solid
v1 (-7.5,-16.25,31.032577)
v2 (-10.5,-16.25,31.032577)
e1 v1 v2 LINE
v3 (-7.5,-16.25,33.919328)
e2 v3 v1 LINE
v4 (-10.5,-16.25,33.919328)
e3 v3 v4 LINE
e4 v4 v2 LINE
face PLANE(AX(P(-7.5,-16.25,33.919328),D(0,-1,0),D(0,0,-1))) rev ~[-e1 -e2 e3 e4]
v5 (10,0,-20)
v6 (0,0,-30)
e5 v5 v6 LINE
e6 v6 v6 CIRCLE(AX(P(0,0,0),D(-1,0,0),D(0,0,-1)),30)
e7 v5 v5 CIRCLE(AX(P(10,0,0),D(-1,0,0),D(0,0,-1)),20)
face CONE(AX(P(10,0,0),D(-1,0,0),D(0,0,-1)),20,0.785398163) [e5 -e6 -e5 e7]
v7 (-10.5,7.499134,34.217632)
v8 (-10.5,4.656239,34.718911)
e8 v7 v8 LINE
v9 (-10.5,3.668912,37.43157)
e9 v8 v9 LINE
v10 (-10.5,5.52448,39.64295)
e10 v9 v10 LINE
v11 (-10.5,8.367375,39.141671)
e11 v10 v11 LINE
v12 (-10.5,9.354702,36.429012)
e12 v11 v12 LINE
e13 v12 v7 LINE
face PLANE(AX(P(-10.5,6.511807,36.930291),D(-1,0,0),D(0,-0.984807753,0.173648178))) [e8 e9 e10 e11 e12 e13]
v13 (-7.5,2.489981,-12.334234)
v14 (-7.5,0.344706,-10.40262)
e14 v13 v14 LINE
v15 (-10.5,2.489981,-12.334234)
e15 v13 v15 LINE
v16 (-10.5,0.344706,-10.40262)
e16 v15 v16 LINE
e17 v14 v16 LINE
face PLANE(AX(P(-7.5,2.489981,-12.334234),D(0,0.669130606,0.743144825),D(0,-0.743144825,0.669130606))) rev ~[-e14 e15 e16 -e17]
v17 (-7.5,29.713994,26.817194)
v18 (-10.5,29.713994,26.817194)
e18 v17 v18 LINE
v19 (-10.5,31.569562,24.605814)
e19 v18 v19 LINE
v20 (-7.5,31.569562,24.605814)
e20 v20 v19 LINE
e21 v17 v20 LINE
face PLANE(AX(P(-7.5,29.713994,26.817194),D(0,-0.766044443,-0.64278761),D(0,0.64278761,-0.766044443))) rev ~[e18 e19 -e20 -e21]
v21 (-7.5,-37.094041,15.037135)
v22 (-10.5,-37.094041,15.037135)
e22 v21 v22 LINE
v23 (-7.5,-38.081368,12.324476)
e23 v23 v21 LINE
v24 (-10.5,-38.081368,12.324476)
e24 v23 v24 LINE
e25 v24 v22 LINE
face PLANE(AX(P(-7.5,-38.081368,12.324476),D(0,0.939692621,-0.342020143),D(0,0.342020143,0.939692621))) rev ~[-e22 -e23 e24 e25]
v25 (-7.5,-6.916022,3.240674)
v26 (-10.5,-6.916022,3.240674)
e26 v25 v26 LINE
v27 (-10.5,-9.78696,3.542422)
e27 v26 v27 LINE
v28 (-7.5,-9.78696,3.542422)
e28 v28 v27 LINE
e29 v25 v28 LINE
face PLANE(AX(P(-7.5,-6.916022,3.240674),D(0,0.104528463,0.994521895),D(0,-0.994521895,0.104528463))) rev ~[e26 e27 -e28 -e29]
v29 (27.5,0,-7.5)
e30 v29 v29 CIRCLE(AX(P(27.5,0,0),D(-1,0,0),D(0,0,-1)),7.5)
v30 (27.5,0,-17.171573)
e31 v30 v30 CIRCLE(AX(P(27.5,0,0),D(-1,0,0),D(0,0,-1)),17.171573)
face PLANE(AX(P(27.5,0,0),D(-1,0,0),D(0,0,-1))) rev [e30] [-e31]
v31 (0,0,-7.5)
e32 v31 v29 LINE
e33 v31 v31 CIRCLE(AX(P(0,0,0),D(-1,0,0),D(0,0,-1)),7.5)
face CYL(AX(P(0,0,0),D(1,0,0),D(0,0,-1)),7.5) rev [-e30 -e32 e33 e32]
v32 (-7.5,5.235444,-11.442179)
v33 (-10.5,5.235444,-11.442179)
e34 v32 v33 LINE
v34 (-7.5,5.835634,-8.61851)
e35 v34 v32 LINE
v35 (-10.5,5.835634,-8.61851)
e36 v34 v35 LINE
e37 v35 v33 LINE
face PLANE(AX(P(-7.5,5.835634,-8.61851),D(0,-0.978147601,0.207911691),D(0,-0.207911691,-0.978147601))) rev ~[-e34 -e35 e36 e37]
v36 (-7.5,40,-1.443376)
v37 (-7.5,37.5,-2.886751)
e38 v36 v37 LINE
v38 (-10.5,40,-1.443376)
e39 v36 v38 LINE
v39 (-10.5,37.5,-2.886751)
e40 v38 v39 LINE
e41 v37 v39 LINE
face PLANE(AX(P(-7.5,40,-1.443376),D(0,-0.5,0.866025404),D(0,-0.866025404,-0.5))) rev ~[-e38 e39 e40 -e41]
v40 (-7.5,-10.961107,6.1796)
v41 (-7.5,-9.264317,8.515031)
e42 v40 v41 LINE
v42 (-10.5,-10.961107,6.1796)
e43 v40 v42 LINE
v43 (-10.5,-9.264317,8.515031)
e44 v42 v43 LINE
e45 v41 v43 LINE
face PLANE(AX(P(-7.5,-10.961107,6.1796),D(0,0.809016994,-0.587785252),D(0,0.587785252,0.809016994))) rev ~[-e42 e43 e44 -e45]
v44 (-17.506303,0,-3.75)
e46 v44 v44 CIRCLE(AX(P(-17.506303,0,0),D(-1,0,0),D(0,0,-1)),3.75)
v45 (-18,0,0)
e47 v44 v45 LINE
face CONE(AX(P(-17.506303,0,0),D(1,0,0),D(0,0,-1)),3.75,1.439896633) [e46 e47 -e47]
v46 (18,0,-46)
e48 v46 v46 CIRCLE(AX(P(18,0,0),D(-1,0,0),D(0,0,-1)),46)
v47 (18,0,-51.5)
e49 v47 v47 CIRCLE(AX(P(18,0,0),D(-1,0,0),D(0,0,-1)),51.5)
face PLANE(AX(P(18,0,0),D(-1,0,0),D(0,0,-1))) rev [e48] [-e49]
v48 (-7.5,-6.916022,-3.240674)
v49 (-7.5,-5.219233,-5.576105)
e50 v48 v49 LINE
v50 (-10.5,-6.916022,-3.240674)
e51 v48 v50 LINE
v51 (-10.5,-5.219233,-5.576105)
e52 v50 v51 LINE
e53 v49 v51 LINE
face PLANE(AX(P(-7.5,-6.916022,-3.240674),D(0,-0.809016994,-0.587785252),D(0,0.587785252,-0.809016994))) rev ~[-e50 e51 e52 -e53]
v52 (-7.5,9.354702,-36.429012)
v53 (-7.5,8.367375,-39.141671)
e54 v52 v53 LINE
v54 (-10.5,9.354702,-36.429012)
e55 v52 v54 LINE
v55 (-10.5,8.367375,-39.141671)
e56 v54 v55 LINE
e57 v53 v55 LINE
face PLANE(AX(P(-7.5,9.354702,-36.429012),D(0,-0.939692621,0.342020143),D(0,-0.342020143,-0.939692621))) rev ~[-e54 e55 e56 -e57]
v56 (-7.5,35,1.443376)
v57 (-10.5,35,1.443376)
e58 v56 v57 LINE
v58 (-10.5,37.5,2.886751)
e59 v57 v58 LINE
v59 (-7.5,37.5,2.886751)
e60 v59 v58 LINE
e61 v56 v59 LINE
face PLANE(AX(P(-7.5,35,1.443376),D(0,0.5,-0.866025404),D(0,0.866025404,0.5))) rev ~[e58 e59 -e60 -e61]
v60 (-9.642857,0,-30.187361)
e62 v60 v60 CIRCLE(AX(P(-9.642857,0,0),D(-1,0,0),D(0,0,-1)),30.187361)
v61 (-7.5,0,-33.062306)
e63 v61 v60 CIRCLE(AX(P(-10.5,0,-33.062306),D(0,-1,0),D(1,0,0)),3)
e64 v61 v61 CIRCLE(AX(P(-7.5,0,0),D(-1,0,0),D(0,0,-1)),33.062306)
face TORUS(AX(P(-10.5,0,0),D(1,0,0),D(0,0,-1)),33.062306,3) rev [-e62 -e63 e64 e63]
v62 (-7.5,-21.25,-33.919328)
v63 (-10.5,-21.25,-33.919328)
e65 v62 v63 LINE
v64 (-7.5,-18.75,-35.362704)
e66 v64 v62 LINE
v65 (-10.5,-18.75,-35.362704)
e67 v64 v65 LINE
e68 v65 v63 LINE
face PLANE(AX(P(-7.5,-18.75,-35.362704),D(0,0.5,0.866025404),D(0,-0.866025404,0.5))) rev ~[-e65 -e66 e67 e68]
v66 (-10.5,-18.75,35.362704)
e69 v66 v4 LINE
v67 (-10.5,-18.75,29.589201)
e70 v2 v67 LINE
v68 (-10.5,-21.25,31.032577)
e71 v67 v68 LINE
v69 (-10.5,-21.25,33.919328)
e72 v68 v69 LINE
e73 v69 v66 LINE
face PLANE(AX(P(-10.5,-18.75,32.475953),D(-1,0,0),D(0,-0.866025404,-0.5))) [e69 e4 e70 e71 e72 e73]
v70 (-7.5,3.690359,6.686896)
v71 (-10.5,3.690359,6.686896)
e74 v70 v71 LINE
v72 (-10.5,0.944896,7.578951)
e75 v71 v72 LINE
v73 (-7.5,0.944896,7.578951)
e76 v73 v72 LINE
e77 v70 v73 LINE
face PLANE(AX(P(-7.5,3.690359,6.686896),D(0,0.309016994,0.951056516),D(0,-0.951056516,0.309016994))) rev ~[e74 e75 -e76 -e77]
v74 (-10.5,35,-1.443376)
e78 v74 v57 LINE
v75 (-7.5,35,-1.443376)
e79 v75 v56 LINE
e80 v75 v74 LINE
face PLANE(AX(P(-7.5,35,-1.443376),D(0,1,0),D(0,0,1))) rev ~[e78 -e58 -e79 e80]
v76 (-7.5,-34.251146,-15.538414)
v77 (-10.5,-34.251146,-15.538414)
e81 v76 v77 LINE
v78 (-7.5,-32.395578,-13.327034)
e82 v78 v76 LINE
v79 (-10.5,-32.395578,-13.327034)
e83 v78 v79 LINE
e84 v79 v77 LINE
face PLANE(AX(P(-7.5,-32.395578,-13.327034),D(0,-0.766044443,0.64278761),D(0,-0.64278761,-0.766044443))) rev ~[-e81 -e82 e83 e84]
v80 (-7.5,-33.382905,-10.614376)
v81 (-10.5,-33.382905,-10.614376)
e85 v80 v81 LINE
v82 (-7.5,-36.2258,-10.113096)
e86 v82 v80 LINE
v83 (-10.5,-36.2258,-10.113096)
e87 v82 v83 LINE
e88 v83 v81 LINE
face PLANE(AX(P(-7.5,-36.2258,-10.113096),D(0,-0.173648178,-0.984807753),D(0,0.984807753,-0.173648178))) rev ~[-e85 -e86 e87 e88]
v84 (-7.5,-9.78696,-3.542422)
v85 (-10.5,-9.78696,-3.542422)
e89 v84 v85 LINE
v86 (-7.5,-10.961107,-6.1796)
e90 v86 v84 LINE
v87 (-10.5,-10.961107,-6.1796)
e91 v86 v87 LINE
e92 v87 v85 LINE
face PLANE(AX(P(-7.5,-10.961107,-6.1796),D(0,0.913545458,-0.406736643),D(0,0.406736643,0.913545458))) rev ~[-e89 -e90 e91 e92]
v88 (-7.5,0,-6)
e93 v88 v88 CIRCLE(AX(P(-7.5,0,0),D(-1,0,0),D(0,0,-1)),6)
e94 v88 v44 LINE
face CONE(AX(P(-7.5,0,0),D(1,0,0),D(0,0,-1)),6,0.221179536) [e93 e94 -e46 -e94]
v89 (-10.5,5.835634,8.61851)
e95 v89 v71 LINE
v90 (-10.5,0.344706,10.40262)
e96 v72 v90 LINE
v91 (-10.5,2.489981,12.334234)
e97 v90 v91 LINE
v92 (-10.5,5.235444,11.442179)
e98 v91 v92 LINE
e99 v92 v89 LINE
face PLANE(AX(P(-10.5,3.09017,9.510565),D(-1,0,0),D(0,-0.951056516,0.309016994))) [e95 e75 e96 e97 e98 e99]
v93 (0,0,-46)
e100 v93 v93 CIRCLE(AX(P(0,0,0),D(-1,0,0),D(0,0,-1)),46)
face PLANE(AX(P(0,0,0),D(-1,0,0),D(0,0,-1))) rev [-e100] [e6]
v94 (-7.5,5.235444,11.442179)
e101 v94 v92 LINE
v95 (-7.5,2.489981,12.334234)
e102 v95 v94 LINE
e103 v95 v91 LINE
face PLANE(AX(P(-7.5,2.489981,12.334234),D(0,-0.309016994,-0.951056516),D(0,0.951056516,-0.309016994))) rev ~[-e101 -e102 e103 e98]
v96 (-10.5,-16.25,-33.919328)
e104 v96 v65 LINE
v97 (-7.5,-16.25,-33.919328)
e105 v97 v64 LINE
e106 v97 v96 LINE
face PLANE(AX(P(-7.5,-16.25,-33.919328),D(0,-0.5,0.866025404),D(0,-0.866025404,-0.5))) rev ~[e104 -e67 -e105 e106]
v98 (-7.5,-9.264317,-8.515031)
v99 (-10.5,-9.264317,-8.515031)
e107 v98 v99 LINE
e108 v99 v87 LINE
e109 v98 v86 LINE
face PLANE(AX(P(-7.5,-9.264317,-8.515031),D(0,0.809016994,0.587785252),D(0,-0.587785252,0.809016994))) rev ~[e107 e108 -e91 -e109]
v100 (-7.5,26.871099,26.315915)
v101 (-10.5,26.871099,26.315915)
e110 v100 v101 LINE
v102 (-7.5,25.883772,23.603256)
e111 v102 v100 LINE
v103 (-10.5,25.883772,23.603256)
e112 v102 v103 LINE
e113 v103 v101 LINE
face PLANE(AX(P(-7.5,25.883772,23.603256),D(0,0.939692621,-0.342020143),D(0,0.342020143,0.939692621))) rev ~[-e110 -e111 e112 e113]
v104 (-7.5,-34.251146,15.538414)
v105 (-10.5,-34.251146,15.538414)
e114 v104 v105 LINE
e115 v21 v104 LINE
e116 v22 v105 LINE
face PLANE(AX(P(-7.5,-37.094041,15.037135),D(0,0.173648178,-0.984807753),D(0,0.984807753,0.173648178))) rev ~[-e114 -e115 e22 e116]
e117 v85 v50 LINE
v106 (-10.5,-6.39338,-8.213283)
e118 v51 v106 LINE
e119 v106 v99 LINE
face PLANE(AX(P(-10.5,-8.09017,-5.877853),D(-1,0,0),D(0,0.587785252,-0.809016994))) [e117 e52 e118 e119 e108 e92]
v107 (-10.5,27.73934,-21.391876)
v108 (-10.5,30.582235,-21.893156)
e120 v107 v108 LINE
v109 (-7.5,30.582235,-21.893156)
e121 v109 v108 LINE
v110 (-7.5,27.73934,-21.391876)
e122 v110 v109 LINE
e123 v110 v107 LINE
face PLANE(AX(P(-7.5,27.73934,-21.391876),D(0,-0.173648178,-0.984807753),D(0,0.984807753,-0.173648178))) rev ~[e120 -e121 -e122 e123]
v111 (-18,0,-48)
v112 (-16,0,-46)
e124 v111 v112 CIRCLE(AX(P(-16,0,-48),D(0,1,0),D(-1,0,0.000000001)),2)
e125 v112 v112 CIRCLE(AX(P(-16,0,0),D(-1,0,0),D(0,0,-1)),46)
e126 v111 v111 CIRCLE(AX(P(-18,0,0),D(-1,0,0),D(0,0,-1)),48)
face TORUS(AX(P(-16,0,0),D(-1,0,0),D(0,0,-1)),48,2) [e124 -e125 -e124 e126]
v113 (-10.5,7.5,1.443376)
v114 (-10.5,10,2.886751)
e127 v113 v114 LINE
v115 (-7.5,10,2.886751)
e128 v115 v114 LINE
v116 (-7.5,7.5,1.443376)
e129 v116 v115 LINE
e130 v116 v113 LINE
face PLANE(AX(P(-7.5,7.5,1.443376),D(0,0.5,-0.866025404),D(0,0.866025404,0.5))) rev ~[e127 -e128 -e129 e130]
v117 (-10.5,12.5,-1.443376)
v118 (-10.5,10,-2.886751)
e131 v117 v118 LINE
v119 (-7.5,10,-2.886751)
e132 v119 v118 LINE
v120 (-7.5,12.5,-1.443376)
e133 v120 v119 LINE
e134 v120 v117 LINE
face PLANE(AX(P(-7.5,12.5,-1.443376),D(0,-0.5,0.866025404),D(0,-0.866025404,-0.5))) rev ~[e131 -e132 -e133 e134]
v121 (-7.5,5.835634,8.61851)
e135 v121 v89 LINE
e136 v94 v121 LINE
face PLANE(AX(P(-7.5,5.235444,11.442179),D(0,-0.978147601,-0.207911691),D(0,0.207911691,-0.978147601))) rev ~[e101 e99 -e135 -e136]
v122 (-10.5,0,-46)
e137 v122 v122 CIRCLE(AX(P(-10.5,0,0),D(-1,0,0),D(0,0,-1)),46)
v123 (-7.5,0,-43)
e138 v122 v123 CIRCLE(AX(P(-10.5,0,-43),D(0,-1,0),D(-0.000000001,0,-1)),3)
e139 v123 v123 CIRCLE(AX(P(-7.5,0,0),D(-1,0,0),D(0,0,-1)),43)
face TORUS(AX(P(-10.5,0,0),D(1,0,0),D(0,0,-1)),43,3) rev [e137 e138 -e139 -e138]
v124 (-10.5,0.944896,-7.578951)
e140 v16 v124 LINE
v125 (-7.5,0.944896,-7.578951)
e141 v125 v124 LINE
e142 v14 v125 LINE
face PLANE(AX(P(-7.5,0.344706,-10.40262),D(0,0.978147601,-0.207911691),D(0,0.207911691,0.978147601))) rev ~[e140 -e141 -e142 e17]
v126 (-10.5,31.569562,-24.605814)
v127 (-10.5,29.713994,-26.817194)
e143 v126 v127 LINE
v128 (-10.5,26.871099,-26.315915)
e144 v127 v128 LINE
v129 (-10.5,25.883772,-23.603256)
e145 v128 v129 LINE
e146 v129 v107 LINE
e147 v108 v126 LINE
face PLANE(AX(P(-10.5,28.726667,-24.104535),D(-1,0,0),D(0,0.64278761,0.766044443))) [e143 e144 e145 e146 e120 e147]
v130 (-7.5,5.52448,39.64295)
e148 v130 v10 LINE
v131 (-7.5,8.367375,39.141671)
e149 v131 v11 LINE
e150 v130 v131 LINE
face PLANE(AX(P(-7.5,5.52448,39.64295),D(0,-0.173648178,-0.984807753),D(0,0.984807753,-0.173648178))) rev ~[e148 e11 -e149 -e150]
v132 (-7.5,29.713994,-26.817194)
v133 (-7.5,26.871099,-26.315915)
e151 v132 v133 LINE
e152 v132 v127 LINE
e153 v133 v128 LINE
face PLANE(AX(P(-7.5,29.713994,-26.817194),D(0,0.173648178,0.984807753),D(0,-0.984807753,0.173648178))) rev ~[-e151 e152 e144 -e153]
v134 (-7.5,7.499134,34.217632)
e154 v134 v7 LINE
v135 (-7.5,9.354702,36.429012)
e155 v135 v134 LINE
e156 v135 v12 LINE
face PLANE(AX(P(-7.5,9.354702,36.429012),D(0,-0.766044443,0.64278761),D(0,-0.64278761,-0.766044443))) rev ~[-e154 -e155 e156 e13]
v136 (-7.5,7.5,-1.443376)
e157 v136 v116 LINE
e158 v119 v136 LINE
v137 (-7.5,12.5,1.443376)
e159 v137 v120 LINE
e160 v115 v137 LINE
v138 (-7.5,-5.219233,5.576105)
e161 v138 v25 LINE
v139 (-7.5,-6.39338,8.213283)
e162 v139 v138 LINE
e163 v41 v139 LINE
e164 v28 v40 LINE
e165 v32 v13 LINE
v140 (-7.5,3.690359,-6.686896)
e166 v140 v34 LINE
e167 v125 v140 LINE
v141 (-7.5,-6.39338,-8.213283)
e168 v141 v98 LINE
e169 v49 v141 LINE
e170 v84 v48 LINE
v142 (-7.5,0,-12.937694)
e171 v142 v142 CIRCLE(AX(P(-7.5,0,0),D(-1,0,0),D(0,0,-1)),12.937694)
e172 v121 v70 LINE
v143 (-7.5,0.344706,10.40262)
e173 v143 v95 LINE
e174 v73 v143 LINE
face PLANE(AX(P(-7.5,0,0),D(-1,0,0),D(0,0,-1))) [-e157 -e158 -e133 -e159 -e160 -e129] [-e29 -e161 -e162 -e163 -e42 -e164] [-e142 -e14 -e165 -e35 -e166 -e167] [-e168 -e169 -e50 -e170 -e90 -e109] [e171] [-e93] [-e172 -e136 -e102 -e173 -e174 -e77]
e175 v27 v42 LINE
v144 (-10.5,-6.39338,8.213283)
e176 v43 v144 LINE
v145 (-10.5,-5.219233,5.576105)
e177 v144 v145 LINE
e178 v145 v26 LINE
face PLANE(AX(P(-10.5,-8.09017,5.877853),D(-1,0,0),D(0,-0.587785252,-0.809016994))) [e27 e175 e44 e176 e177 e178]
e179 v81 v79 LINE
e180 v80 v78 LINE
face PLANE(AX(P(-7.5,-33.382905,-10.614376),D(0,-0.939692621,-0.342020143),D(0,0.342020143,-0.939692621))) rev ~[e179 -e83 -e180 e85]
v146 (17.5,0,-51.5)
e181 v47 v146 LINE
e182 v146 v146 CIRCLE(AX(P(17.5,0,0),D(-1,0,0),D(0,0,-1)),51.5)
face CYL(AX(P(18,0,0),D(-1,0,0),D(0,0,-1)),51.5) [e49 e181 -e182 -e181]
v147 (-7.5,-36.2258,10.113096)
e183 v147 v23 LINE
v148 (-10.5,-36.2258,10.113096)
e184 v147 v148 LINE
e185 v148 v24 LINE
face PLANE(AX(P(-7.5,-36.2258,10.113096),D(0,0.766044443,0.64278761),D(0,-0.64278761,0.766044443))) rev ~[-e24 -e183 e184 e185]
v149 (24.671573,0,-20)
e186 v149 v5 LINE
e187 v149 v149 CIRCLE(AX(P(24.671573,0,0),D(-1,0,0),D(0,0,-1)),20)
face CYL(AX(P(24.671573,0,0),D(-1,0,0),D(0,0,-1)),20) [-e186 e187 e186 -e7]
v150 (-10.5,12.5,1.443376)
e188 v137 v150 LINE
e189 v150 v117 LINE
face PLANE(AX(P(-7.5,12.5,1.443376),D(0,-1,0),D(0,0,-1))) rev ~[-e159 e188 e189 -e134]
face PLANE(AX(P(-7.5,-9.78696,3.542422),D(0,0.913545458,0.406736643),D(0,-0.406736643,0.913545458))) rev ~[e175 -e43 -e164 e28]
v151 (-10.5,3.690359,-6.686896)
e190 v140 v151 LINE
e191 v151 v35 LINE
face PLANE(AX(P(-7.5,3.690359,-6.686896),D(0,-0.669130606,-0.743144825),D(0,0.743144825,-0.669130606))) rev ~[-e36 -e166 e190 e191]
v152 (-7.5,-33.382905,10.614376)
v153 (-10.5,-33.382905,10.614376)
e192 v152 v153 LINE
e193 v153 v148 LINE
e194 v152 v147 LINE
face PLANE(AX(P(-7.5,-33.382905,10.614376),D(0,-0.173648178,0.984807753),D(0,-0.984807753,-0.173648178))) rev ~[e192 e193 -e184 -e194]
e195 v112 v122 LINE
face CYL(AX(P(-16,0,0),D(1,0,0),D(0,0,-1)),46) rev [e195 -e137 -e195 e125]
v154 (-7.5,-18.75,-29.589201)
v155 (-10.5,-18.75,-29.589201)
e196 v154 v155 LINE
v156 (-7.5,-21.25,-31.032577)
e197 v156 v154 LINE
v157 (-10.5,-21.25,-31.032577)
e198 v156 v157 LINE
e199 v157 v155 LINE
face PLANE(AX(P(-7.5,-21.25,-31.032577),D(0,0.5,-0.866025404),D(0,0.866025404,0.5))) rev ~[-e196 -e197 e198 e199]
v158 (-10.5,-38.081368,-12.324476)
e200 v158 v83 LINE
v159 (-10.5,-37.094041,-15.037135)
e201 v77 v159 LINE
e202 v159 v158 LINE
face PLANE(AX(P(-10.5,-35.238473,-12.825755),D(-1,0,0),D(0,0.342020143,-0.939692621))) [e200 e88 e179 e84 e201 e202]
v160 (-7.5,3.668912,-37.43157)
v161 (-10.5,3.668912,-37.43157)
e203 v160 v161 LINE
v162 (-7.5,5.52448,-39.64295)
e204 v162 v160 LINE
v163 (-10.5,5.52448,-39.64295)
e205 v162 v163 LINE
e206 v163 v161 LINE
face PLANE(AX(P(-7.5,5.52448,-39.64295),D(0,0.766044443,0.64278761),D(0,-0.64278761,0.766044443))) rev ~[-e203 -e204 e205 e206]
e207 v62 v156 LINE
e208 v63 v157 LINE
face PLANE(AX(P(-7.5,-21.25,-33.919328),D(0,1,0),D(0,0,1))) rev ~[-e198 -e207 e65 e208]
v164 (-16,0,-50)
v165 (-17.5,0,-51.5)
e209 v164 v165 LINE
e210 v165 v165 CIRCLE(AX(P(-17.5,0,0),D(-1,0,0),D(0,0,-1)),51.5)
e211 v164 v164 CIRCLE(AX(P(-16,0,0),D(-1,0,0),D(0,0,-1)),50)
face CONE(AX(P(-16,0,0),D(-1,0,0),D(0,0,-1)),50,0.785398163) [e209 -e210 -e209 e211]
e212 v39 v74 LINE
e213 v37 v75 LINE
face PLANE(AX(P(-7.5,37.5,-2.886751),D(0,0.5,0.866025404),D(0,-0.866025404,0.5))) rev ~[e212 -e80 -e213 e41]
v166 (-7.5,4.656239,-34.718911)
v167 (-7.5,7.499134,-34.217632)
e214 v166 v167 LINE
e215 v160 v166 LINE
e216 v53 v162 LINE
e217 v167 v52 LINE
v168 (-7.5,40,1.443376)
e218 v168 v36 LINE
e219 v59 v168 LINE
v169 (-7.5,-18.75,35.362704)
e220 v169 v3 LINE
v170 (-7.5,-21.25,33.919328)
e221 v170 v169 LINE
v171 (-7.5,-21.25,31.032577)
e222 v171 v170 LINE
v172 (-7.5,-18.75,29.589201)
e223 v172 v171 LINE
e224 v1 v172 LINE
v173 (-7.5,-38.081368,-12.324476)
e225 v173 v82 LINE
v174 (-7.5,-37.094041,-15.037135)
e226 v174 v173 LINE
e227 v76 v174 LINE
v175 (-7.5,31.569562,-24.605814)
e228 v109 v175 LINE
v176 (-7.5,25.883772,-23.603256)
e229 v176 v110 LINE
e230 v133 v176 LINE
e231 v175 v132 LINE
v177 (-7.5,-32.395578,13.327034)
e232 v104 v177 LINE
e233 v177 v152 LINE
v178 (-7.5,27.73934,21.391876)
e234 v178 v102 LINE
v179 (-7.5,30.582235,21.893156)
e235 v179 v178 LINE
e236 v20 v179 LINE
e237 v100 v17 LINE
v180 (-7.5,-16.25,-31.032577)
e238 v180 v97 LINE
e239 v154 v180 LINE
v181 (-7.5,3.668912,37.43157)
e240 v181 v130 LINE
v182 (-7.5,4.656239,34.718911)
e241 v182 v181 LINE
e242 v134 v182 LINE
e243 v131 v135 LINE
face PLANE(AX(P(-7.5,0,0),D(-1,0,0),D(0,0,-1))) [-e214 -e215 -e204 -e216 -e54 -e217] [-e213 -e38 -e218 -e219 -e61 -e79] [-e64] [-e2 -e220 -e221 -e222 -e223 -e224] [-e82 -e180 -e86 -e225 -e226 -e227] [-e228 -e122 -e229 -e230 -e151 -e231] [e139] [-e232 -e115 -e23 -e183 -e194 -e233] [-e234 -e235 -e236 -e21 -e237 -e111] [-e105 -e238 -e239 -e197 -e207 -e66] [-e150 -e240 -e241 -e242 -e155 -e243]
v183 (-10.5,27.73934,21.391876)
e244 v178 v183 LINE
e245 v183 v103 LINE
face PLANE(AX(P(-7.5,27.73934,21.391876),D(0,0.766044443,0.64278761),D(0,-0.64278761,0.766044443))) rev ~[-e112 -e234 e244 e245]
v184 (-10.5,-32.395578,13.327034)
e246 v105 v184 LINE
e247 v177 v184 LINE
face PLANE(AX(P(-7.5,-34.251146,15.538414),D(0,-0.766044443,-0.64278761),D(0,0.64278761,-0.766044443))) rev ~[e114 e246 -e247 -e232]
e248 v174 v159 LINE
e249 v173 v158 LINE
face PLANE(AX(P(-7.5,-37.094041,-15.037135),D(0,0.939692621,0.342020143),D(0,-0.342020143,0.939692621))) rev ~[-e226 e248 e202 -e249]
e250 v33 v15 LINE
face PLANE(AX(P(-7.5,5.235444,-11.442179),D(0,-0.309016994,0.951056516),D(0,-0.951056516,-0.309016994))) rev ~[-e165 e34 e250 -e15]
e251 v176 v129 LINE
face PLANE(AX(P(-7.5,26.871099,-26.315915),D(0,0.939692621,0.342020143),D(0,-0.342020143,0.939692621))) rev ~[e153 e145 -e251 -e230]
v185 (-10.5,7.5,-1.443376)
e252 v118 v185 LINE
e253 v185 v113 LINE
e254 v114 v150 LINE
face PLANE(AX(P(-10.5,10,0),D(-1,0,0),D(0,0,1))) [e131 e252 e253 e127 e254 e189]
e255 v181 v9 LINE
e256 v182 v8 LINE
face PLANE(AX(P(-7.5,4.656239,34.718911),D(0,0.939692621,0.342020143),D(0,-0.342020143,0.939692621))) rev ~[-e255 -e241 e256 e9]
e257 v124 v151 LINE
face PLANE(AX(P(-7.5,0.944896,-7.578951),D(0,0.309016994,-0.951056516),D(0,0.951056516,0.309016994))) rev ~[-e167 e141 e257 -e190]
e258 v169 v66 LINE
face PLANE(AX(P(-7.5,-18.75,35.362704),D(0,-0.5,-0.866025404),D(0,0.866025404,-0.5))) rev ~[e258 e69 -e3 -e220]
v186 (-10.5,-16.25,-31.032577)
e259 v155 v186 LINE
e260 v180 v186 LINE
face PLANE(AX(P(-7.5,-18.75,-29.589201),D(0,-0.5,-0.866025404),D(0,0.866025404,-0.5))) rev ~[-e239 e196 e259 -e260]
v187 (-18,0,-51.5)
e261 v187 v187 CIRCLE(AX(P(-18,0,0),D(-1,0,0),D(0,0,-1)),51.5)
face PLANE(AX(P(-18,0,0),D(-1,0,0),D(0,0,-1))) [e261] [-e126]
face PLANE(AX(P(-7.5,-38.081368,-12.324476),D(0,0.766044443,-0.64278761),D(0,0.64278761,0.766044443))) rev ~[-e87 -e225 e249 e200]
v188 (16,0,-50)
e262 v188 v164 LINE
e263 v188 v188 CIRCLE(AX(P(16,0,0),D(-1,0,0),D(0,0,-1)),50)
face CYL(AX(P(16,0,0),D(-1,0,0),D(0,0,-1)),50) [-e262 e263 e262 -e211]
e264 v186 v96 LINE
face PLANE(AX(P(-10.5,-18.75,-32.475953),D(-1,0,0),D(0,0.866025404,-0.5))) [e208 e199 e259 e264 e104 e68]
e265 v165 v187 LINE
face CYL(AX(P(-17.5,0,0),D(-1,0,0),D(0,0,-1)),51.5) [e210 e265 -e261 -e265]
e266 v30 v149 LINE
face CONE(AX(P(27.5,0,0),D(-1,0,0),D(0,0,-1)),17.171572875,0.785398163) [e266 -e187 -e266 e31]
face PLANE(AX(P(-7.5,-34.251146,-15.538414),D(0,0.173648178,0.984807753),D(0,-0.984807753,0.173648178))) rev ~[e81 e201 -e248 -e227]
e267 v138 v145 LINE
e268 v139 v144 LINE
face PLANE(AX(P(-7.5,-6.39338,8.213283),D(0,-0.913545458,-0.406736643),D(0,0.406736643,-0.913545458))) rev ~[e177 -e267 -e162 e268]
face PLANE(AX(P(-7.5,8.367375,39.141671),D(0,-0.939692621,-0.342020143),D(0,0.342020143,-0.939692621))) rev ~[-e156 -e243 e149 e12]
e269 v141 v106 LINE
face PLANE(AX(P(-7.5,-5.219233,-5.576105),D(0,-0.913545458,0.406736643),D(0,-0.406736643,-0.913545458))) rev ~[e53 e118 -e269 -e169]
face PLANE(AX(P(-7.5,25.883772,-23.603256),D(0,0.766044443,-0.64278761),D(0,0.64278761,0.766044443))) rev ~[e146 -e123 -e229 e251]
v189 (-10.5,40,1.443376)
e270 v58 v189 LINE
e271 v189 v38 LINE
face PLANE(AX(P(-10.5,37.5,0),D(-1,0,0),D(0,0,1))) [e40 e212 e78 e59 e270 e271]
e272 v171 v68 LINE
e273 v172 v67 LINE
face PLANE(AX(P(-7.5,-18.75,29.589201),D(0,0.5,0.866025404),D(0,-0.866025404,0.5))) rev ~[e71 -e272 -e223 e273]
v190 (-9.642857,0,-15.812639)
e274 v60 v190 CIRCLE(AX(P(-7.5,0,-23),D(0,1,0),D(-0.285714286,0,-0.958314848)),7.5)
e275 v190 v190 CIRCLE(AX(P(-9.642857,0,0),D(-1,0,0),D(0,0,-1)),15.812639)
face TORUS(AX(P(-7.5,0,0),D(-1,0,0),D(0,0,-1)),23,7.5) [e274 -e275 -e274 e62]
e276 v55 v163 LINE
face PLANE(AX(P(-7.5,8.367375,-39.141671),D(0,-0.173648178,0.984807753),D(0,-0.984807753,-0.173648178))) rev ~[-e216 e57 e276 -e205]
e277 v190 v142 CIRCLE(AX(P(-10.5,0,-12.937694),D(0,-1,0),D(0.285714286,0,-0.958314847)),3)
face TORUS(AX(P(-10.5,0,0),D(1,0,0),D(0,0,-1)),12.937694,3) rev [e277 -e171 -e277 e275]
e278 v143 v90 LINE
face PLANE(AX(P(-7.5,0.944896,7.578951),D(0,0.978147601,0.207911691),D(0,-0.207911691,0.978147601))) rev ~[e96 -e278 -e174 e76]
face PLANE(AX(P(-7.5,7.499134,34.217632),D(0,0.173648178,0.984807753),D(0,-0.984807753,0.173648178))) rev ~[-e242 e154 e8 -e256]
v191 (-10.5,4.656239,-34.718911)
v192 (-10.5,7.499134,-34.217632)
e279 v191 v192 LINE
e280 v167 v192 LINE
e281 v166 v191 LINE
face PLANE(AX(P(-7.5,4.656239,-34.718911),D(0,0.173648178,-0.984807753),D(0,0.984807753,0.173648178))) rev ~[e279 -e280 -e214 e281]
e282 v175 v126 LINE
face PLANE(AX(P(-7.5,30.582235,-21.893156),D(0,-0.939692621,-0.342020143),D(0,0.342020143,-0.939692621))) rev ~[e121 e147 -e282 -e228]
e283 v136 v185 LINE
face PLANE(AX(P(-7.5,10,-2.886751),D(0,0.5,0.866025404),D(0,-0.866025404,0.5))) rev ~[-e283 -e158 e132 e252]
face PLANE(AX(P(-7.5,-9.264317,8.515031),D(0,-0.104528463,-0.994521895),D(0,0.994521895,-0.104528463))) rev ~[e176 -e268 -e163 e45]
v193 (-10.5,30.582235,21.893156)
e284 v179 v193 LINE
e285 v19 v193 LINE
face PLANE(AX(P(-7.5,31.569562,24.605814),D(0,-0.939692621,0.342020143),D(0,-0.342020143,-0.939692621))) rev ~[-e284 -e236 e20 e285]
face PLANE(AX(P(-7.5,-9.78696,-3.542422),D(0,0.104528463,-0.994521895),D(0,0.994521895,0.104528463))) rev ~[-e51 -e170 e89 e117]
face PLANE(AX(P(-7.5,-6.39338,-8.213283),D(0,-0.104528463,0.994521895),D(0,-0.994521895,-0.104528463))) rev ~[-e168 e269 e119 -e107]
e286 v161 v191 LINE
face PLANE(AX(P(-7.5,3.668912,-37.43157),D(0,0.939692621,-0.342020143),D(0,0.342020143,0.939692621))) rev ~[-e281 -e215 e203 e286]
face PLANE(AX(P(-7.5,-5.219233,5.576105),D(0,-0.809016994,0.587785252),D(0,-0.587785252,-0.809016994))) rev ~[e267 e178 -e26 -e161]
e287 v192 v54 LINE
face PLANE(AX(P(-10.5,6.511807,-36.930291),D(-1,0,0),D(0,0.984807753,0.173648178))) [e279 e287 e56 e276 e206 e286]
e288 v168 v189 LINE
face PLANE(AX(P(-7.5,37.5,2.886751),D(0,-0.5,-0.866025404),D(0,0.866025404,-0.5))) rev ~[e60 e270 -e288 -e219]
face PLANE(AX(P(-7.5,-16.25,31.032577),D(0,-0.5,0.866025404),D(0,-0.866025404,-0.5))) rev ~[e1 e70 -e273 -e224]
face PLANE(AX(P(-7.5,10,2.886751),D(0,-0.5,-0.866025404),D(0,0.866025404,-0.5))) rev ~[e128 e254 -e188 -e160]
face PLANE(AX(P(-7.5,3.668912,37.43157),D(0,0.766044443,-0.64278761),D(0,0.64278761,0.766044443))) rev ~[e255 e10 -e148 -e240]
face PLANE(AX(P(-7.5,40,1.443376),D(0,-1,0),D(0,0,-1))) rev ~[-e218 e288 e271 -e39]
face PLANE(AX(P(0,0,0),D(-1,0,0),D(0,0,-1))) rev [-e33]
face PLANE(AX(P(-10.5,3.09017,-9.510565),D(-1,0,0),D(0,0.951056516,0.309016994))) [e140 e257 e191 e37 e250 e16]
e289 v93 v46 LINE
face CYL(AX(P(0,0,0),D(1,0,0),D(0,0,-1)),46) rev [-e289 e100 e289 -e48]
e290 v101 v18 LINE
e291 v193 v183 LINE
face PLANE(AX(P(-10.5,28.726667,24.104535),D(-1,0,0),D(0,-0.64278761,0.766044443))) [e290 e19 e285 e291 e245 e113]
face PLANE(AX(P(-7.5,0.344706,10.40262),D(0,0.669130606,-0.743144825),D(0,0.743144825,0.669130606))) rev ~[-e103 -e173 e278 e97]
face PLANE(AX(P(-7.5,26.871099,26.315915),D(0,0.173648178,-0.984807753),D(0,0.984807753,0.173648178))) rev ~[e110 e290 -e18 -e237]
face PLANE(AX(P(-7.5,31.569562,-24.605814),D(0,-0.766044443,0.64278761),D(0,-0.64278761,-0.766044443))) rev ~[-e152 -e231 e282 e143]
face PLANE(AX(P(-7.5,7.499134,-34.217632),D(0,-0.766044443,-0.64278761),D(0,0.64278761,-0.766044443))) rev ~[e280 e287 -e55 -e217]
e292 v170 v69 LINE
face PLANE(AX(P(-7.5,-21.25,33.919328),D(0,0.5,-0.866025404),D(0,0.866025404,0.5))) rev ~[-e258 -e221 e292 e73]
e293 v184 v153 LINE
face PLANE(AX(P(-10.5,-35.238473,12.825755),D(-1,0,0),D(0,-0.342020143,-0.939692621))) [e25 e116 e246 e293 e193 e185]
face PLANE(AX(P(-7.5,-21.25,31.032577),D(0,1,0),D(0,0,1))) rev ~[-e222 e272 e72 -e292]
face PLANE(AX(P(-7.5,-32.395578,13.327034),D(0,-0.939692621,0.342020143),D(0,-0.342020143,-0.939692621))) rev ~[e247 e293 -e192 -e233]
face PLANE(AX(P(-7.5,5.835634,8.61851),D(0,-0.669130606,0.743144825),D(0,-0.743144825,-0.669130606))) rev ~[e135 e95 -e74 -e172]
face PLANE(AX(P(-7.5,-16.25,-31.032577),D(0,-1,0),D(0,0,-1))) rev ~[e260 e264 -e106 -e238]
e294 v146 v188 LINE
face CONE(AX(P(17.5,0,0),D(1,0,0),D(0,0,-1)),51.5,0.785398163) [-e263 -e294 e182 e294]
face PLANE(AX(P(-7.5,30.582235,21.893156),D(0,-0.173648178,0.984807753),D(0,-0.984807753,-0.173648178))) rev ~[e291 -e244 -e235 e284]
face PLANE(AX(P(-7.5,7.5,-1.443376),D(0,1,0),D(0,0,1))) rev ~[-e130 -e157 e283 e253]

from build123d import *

# Parameters (mm, degrees)
Y_KSEKLIK_EKSTR_ZYON1_DEPTH = 3
DAIRESEL_KAPLAMA1_COUNT     = 9
Y_KSEKLIK_EKSTR_ZYON2_DEPTH = 3
DAIRESEL_KAPLAMA2_COUNT     = 5


with BuildPart() as part:
    # Çizim1 → Döndür1 (revolve)
    with BuildSketch(Plane.XY, mode=Mode.PRIVATE) as d_nd_r1_sk:
        with BuildLine():
            Line((-7.5, 6), (-17.506303134, 3.75))
            Line((-17.506303134, 3.75), (-18, 0))
            Line((-18, 0), (0, 0))
            Line((0, 0), (0, 7.5))
            Line((0, 7.5), (27.5, 7.5))
            Line((27.5, 7.5), (27.5, 17.171572875))
            Line((27.5, 17.171572875), (24.671572875, 20))
            Line((24.671572875, 20), (10, 20))
            Line((10, 20), (0, 30))
            Line((0, 30), (0, 46))
            Line((0, 46), (18, 46))
            Line((18, 46), (18, 51.5))
            Line((18, 51.5), (17.5, 51.5))
            Line((17.5, 51.5), (16, 50))
            Line((16, 50), (-16, 50))
            Line((-16, 50), (-17.5, 51.5))
            Line((-17.5, 51.5), (-18, 51.5))
            Line((-18, 51.5), (-18, 48))
            ThreePointArc((-18, 48), (-17.414213562, 46.585786438), (-16, 46))
            Line((-16, 46), (-10.5, 46))
            ThreePointArc((-10.5, 46), (-8.378679656, 45.121320344), (-7.5, 43))
            Line((-7.5, 43), (-7.5, 33.062305899))
            ThreePointArc((-7.5, 33.062305899), (-8.094648823, 31.269462985), (-9.642857143, 30.187361356))
            ThreePointArc((-9.642857143, 30.187361356), (-15, 23), (-9.642857143, 15.812638644))
            ThreePointArc((-9.642857143, 15.812638644), (-8.094648823, 14.730537015), (-7.5, 12.937694101))
            Line((-7.5, 12.937694101), (-7.5, 6))
        make_face()
    revolve(d_nd_r1_sk.sketch.rotate(Axis((0, 0, 0), (-1, 0, 0)), 90), axis=Axis((0, 0, 0), (-1, 0, 0)))

    # Çizim3 → Yükseklik-Ekstrüzyon1 (add)
    with BuildSketch(Plane.ZY.offset(7.5)):
        Polygon((2.886751346, 37.5), (1.443375673, 40), (-1.443375673, 40), (-2.886751346, 37.5), (-1.443375673, 35), (1.443375673, 35), align=None)
    y_kseklik_ekstr_zyon1 = extrude(amount=Y_KSEKLIK_EKSTR_ZYON1_DEPTH)

    # Dairesel Kaplama1: Yükseklik-Ekstrüzyon1 ×9 about axis
    dairesel_kaplama1_axis = Axis((0, 0, 0), (1, 0, 0))
    for i in range(1, DAIRESEL_KAPLAMA1_COUNT):
        add(y_kseklik_ekstr_zyon1.rotate(dairesel_kaplama1_axis, i * 360 / DAIRESEL_KAPLAMA1_COUNT))

    # Çizim5 → Yükseklik-Ekstrüzyon2 (add)
    with BuildSketch(Plane.ZY.offset(7.5)):
        Polygon((2.886751346, 10), (1.443375673, 12.5), (-1.443375673, 12.5), (-2.886751346, 10), (-1.443375673, 7.5), (1.443375673, 7.5), align=None)
    y_kseklik_ekstr_zyon2 = extrude(amount=Y_KSEKLIK_EKSTR_ZYON2_DEPTH)

    # Dairesel Kaplama2: Yükseklik-Ekstrüzyon2 ×5 about axis
    dairesel_kaplama2_axis = Axis((0, 0, 0), (1, 0, 0))
    for i in range(1, DAIRESEL_KAPLAMA2_COUNT):
        add(y_kseklik_ekstr_zyon2.rotate(dairesel_kaplama2_axis, i * 360 / DAIRESEL_KAPLAMA2_COUNT))


solid = part.part
